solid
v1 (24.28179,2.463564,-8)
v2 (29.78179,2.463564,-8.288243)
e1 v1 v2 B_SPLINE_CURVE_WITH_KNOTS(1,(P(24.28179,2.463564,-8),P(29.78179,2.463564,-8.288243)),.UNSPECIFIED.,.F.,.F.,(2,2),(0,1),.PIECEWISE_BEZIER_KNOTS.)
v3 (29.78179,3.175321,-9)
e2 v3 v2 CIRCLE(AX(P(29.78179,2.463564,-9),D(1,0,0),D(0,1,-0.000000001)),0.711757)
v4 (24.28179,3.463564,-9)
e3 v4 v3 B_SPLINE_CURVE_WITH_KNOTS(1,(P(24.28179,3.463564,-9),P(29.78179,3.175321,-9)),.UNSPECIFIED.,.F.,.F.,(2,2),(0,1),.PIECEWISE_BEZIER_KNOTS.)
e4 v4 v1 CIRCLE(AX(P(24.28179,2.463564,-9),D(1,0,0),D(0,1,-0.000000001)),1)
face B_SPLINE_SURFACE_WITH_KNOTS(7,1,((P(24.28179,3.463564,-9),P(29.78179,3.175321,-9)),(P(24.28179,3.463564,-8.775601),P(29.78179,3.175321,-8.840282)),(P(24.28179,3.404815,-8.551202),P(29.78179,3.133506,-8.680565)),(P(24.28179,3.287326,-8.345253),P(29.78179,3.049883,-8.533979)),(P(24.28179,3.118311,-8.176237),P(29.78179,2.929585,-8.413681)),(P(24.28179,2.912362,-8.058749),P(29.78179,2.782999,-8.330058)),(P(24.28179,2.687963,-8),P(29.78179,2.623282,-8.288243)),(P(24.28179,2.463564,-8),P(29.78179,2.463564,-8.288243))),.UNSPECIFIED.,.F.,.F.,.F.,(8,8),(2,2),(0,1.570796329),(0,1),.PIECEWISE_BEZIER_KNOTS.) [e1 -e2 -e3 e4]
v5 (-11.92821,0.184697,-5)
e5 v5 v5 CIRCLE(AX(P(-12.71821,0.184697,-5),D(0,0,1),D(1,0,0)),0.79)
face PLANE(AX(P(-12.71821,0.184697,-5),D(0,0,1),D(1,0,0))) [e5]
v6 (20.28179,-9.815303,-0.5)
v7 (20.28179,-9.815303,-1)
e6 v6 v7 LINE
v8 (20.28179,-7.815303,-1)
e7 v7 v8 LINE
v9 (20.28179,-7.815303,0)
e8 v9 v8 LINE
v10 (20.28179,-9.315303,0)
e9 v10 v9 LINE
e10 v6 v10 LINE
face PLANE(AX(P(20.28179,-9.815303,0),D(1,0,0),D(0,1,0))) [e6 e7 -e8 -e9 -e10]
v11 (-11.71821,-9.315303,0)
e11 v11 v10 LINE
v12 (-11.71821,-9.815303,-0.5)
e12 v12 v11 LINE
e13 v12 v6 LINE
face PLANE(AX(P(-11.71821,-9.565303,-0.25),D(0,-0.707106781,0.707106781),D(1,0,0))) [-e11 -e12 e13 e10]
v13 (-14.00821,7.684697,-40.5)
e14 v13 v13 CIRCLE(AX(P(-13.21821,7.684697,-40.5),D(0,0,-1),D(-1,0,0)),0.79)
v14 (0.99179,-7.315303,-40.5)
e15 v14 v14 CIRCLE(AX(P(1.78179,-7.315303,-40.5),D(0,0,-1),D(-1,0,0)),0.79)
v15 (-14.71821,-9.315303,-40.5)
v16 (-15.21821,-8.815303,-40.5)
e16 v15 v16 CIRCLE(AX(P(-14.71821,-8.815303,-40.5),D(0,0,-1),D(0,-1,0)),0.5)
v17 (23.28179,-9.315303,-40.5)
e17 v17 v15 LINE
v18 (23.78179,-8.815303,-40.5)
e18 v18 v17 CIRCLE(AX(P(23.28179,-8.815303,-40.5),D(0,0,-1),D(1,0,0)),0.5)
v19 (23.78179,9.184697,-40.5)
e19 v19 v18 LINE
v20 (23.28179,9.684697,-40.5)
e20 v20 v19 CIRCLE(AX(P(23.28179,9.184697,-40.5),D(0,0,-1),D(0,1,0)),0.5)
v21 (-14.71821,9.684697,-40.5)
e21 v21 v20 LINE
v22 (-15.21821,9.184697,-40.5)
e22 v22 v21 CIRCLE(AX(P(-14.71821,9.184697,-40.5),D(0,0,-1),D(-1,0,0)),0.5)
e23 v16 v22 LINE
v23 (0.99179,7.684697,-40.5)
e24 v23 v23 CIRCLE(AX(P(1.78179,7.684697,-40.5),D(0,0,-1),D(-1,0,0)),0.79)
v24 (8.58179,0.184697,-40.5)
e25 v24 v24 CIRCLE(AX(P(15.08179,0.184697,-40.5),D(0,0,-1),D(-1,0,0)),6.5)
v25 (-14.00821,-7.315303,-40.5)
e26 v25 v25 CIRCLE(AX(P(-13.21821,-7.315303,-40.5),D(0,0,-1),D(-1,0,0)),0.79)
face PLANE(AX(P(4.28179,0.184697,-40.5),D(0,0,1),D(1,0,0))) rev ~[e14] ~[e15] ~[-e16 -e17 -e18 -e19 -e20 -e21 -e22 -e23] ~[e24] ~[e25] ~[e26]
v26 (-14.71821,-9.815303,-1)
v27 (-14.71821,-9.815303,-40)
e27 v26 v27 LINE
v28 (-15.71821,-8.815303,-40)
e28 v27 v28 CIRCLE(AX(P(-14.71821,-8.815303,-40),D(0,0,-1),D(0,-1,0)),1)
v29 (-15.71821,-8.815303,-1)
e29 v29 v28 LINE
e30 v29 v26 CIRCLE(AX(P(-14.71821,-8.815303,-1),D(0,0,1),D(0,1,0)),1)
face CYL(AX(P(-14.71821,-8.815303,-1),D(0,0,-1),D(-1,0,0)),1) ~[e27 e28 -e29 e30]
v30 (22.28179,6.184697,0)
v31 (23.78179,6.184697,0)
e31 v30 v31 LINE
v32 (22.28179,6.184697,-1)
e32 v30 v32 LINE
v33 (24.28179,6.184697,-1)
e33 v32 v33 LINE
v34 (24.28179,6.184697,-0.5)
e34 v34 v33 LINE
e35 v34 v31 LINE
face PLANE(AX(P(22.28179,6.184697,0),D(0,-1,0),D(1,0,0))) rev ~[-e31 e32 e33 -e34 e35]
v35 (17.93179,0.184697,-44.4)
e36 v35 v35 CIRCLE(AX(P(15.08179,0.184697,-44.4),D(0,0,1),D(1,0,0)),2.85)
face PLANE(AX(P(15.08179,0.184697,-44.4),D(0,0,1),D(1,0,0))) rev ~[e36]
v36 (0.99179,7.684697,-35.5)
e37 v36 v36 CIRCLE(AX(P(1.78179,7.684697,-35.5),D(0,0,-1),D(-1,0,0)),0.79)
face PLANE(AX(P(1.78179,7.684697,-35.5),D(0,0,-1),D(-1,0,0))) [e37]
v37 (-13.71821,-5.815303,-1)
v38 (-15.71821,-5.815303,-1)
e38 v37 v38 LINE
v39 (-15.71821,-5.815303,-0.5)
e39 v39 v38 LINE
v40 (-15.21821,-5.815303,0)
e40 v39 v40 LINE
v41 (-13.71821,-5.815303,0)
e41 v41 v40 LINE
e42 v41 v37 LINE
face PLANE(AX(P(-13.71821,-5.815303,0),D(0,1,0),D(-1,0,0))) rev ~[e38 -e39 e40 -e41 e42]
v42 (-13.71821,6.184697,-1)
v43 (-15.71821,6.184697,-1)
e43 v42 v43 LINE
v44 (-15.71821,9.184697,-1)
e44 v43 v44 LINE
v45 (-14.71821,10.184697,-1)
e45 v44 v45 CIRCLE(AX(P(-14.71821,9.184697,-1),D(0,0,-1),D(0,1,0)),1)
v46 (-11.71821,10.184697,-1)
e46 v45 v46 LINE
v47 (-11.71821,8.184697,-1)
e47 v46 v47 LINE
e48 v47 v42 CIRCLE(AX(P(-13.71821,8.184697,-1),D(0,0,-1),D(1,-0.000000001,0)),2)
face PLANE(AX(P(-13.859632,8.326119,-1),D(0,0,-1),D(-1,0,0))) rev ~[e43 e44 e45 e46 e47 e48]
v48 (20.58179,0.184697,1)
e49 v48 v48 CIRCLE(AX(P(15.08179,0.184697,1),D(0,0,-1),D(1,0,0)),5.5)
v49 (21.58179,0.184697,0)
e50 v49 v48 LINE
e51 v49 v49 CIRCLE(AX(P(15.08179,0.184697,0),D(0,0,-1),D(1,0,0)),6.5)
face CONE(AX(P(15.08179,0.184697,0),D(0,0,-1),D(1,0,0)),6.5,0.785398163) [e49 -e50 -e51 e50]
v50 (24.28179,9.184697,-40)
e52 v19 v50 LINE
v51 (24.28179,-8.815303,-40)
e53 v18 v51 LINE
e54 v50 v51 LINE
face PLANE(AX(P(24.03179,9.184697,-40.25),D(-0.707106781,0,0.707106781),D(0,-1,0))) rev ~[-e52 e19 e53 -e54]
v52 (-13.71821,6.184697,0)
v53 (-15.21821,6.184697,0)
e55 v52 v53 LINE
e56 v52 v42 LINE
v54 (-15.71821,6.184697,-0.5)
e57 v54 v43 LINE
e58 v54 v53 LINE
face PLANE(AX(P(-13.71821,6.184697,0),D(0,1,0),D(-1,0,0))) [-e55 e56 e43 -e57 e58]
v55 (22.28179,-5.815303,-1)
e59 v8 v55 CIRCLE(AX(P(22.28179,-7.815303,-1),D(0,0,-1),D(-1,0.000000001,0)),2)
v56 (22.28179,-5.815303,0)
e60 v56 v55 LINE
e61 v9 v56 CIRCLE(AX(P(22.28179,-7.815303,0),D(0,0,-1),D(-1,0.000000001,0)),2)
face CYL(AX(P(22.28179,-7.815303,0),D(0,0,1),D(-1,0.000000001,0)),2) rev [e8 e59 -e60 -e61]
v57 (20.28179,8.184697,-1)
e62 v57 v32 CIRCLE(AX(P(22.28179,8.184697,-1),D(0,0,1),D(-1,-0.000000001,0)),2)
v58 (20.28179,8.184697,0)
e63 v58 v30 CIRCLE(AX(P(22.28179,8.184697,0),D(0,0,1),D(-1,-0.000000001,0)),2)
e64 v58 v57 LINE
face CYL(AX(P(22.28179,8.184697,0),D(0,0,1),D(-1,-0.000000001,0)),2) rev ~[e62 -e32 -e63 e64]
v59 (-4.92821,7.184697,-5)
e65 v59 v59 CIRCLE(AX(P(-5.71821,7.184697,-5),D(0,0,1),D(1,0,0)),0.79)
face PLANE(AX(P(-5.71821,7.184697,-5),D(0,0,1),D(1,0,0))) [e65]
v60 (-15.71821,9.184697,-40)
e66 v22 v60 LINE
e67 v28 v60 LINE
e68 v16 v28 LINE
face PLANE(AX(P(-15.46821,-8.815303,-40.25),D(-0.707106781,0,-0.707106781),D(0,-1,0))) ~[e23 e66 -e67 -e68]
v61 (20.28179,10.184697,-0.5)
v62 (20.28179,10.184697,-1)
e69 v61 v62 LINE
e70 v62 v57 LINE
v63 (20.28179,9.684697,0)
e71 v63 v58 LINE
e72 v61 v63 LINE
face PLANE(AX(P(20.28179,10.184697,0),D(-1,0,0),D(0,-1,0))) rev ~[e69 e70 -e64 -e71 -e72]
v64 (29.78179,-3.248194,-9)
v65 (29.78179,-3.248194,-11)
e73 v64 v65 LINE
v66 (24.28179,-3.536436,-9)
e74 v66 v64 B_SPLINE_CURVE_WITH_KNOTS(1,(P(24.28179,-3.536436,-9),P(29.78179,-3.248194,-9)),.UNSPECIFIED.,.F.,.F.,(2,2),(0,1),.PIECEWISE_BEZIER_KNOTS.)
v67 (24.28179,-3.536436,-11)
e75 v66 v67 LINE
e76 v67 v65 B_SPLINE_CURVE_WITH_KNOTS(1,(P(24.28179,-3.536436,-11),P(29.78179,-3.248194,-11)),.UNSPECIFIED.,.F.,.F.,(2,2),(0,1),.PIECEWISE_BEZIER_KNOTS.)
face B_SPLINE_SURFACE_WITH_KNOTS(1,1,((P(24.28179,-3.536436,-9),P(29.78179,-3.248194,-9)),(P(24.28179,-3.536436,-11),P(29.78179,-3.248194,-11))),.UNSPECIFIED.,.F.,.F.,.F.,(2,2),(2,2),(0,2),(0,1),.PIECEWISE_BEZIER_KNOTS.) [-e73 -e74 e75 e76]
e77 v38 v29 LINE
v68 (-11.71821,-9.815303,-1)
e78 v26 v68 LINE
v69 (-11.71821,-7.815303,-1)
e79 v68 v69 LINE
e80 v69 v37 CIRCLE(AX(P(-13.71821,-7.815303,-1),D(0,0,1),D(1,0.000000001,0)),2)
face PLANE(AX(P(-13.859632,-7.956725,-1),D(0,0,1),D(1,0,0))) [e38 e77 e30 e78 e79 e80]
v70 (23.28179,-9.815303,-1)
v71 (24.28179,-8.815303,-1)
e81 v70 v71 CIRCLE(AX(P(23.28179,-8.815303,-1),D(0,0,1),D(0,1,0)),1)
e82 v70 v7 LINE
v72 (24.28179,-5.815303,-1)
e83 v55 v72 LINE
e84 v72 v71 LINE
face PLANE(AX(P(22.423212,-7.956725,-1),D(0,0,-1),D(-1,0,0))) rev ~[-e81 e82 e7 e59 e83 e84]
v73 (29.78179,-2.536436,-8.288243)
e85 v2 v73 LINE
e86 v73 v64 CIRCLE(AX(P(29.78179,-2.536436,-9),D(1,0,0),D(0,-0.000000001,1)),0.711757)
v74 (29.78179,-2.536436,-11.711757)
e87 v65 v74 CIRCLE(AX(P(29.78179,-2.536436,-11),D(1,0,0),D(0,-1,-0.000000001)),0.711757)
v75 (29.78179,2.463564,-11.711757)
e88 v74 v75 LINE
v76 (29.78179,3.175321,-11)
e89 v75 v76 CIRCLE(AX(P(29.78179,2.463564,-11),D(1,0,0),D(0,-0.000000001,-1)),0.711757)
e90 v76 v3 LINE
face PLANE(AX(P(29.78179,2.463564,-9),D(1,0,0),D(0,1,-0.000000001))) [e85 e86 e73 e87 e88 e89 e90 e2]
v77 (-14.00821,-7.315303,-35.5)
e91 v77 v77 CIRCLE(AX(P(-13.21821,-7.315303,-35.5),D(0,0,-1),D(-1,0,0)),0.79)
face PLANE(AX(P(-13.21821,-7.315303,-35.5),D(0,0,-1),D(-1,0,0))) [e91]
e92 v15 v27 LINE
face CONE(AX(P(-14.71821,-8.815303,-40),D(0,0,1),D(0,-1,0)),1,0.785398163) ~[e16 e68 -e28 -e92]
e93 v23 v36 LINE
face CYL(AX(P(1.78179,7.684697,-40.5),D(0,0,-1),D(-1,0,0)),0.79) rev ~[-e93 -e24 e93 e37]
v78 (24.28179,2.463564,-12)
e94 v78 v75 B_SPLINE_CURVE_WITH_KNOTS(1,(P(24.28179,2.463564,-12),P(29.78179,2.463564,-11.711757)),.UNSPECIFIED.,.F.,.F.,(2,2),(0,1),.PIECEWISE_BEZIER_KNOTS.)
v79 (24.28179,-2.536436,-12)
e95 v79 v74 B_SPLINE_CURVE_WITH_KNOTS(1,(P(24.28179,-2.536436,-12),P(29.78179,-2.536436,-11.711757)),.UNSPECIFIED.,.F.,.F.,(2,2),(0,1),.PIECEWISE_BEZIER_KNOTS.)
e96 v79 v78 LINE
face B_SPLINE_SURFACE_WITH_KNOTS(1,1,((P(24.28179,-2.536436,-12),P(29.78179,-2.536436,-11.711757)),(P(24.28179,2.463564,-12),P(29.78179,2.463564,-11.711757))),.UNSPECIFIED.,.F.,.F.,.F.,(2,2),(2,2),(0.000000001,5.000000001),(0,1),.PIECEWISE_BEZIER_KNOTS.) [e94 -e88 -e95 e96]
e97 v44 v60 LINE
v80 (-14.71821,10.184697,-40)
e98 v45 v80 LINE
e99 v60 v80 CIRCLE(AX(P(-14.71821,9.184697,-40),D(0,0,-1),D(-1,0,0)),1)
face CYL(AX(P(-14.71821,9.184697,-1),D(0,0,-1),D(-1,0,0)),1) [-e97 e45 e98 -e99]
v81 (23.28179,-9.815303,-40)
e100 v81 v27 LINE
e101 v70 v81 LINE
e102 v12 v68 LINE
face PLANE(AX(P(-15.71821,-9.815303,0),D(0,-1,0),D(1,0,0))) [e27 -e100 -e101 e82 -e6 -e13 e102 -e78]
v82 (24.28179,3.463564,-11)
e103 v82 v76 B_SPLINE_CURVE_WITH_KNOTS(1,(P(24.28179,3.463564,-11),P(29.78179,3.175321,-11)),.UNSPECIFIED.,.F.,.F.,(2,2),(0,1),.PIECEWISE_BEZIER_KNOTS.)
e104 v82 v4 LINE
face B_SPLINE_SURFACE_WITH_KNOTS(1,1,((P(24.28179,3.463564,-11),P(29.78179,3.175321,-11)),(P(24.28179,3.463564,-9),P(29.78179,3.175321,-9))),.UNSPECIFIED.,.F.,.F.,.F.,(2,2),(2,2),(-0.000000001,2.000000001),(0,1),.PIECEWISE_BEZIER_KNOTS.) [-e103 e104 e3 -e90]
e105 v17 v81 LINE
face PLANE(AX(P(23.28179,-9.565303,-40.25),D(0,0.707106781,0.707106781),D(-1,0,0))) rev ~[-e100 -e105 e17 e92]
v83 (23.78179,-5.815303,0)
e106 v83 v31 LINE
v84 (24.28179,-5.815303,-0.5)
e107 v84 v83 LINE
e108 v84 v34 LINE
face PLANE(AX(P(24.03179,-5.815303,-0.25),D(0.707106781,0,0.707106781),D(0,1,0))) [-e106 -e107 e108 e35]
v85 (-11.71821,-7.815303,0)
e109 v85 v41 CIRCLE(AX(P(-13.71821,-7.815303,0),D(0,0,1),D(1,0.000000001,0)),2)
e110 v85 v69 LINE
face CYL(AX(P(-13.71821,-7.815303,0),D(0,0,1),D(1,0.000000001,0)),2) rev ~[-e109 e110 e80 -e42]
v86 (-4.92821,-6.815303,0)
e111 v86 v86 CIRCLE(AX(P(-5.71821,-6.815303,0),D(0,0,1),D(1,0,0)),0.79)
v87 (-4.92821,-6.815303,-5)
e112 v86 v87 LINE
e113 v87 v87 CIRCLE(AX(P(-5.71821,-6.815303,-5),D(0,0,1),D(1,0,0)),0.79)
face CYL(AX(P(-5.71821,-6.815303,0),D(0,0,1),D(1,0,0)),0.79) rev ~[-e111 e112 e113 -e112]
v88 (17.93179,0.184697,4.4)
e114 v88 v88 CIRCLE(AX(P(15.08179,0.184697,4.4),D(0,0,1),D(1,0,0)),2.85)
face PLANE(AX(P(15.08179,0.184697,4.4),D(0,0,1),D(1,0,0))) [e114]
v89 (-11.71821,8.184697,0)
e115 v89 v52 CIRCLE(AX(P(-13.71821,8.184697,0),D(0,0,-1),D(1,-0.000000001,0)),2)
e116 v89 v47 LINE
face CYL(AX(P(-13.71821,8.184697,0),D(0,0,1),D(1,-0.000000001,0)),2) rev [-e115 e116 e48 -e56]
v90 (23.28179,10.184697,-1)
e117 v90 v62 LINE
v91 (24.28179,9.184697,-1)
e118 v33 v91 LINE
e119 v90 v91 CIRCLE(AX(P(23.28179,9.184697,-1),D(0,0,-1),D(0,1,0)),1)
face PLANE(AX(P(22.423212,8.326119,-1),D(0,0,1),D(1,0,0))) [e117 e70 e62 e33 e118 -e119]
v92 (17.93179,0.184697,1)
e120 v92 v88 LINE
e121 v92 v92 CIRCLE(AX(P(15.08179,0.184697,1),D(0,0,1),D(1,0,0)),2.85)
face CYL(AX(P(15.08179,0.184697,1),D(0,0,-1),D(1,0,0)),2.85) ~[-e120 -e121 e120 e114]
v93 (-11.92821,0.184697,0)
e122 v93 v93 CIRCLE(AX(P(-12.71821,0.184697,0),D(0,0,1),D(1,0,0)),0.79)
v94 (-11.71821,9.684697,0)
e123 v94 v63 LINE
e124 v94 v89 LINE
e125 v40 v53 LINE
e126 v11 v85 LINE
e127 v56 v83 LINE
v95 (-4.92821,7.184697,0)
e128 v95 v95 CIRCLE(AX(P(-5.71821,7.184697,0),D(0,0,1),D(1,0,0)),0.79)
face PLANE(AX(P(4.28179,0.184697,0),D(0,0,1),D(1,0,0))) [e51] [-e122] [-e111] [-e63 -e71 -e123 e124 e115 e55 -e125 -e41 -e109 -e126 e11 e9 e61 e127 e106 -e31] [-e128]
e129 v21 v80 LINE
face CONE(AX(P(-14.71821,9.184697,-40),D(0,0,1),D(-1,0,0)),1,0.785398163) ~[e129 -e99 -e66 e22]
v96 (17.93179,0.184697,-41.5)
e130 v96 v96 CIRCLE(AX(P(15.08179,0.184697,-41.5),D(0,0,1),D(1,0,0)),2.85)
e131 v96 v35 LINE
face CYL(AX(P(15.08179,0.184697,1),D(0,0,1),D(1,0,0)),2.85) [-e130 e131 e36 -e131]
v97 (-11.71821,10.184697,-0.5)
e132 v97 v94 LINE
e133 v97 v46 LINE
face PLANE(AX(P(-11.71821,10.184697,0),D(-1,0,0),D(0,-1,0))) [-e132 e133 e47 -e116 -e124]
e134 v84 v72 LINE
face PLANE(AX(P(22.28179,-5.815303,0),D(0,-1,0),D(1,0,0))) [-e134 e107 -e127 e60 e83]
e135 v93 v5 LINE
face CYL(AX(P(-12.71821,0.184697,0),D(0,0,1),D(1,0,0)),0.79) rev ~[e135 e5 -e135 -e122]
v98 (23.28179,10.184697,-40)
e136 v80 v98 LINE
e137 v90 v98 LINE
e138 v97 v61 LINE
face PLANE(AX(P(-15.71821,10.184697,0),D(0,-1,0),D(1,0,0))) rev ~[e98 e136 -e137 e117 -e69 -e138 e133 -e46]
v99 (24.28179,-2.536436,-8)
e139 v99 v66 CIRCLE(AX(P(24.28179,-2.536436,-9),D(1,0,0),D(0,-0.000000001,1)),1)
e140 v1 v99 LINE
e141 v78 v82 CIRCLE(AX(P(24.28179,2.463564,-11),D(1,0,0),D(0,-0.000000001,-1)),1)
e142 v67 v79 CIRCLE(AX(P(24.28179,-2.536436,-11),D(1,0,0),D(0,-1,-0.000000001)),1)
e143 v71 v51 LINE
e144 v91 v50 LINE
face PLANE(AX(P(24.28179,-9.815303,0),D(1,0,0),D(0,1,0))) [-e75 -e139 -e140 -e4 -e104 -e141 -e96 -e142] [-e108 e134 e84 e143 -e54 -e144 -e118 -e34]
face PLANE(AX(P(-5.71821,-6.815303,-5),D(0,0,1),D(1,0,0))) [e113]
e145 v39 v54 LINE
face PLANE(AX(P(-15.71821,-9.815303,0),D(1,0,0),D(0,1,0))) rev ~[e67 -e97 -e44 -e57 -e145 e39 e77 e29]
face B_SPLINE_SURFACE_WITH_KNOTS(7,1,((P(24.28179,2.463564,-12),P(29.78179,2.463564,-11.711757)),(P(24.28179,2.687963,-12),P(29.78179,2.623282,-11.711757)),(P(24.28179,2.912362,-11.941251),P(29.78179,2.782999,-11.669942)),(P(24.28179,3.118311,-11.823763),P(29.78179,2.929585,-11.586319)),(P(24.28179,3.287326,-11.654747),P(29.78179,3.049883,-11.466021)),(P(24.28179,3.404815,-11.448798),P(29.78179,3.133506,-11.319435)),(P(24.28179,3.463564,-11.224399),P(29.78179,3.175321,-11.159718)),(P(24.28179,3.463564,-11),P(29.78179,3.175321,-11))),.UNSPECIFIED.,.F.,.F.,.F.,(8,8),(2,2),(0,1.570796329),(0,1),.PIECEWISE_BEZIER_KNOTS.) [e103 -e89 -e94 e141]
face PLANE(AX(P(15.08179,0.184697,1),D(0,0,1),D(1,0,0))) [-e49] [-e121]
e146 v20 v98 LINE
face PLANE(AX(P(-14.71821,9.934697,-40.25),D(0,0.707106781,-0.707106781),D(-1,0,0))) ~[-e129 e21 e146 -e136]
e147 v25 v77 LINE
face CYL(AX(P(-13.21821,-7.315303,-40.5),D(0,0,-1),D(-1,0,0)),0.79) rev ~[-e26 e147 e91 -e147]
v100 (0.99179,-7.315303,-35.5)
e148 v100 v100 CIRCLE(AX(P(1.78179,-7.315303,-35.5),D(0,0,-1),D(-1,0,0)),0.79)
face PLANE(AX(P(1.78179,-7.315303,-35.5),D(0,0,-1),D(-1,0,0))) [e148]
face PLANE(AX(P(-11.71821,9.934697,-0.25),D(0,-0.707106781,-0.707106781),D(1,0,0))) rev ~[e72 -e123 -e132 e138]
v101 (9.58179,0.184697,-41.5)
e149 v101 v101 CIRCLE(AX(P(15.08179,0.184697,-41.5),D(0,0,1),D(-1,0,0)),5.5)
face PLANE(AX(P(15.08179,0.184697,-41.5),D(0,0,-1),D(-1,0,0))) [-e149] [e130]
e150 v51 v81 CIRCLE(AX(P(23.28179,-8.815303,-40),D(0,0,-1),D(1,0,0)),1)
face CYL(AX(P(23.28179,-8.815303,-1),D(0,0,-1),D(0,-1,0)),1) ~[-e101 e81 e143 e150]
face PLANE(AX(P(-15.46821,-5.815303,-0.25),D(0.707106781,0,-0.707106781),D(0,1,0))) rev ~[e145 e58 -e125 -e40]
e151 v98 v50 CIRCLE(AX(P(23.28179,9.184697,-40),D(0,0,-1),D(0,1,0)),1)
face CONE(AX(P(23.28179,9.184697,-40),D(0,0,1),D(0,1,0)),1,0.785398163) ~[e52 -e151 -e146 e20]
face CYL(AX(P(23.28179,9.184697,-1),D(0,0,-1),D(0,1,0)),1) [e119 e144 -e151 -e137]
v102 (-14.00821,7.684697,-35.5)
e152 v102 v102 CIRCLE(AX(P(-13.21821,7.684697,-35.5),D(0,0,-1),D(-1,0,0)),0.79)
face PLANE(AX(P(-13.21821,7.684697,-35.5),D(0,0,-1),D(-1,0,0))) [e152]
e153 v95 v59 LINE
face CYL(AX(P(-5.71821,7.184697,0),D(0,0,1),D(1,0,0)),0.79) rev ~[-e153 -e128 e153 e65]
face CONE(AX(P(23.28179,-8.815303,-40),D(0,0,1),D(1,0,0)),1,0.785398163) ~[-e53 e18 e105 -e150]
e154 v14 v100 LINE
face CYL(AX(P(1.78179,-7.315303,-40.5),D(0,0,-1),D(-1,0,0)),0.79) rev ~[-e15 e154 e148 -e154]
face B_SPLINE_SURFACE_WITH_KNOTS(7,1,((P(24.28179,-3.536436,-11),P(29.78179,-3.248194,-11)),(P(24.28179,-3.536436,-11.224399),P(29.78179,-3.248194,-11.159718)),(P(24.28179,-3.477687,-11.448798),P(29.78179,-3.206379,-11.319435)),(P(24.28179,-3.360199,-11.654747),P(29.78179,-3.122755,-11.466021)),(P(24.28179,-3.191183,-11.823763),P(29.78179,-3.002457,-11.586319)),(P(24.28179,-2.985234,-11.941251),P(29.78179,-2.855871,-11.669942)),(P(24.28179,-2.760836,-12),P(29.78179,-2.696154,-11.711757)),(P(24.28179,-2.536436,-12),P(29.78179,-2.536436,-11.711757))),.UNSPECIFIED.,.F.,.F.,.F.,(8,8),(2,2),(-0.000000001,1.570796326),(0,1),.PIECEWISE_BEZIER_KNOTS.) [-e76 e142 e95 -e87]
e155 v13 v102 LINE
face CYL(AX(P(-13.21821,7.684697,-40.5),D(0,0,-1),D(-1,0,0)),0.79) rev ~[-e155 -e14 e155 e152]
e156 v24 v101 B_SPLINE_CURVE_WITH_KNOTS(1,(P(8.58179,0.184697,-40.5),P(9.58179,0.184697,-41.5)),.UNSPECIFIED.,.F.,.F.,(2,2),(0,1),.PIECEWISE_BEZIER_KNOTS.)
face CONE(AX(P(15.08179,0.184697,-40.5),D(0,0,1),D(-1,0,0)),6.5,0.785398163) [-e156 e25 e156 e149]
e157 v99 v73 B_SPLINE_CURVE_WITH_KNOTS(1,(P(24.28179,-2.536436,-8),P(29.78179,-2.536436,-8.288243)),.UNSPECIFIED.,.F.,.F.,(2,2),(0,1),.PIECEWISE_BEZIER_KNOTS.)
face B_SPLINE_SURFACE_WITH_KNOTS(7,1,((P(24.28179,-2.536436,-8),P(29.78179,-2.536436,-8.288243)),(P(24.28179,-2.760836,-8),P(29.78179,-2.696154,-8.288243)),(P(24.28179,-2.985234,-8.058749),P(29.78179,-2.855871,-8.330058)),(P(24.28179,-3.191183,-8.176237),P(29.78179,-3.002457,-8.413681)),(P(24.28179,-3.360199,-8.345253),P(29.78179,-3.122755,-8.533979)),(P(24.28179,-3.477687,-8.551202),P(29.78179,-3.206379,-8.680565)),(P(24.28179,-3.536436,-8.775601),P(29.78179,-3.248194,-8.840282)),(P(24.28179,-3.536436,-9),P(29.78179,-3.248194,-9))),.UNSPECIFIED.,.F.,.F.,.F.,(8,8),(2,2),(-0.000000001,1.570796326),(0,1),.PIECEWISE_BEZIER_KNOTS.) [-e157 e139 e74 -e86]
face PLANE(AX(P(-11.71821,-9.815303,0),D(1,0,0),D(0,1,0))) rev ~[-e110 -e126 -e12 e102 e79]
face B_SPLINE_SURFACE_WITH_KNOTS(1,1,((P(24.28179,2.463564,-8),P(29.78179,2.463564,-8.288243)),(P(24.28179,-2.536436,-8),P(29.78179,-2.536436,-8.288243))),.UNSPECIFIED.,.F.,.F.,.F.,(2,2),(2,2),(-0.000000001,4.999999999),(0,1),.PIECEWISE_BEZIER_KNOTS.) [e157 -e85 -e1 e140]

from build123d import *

# Parameters (mm, degrees)
ESQUISSE1_W             = 40
ESQUISSE1_H             = 20
BOSS_EXTRU_1_DEPTH      = 40.5
ESQUISSE2_R             = 0.79
ENL_V_MAT_EXTRU_1_DEPTH = 5
ESQUISSE3_R             = 0.79
ENL_V_MAT_EXTRU_2_DEPTH = 5
ENL_V_MAT_EXTRU_3_DEPTH = 1
CONG_1_R                = 1
ESQUISSE5_R             = 6.5
BOSS_EXTRU_2_DEPTH      = 1
BOSS_EXTRU_2_TAPER      = 45
ESQUISSE6_R             = 2.85
BOSS_EXTRU_3_DEPTH      = 3.4
BOSS_EXTRU_3_DEPTH_BACK = 45.4
ESQUISSE7_R             = 6.5
BOSS_EXTRU_4_DEPTH      = 1
BOSS_EXTRU_4_TAPER      = 45
CHANFREIN1_SIZE         = 0.5
BOSS_EXTRU_5_DEPTH      = 5.5
BOSS_EXTRU_5_TAPER      = 3


with BuildPart() as part:
    # Esquisse1 → Boss.-Extru.1 (new body)
    with BuildSketch(Plane.XY):
        with Locations((4.281789852, 0.18469657)):
            Rectangle(ESQUISSE1_W, ESQUISSE1_H)
    extrude(amount=-BOSS_EXTRU_1_DEPTH)

    # Esquisse2 → Enlèv. mat.-Extru.1 (cut)
    with BuildSketch(Plane.XY):
        with Locations((-12.718210148, 0.18469657)):
            Circle(ESQUISSE2_R)
        with Locations((-5.718210148, 7.18469657)):
            Circle(ESQUISSE2_R)
        with Locations((-5.718210148, -6.81530343)):
            Circle(ESQUISSE2_R)
    extrude(amount=-ENL_V_MAT_EXTRU_1_DEPTH, mode=Mode.SUBTRACT)

    # Esquisse3 → Enlèv. mat.-Extru.2 (cut)
    with BuildSketch(Plane(origin=(0, 0, -40.5), x_dir=(-1, 0, 0), z_dir=(0, 0, -1))):
        with Locations((-1.781789852, 7.68469657)):
            Circle(ESQUISSE3_R)
        with Locations((13.218210148, 7.68469657)):
            Circle(ESQUISSE3_R)
        with Locations((13.218210148, -7.31530343)):
            Circle(ESQUISSE3_R)
        with Locations((-1.781789852, -7.31530343)):
            Circle(ESQUISSE3_R)
    extrude(amount=-ENL_V_MAT_EXTRU_2_DEPTH, mode=Mode.SUBTRACT)

    # Esquisse4 → Enlèv. mat.-Extru.3 (cut)
    with BuildSketch(Plane.XY):
        with BuildLine():
            Line((-15.718210148, 10.18469657), (-11.718210148, 10.18469657))
            Line((-11.718210148, 10.18469657), (-11.718210148, 8.18469657))
            ThreePointArc((-11.718210148, 8.18469657), (-12.303996586, 6.770483008), (-13.718210148, 6.18469657))
            Line((-13.718210148, 6.18469657), (-15.718210148, 6.18469657))
            Line((-15.718210148, 6.18469657), (-15.718210148, 10.18469657))
        make_face()
        with BuildLine():
            Line((-15.718210148, -9.81530343), (-11.718210148, -9.81530343))
            Line((-11.718210148, -9.81530343), (-11.718210148, -7.81530343))
            ThreePointArc((-11.718210148, -7.81530343), (-12.303996586, -6.401089868), (-13.718210148, -5.81530343))
            Line((-13.718210148, -5.81530343), (-15.718210148, -5.81530343))
            Line((-15.718210148, -5.81530343), (-15.718210148, -9.81530343))
        make_face()
        with BuildLine():
            Line((24.281789852, -9.81530343), (20.281789852, -9.81530343))
            Line((20.281789852, -9.81530343), (20.281789852, -7.81530343))
            ThreePointArc((20.281789852, -7.81530343), (20.86757629, -6.401089868), (22.281789852, -5.81530343))
            Line((22.281789852, -5.81530343), (24.281789852, -5.81530343))
            Line((24.281789852, -5.81530343), (24.281789852, -9.81530343))
        make_face()
        with BuildLine():
            Line((24.281789852, 10.18469657), (20.281789852, 10.18469657))
            Line((20.281789852, 10.18469657), (20.281789852, 8.18469657))
            ThreePointArc((20.281789852, 8.18469657), (20.86757629, 6.770483008), (22.281789852, 6.18469657))
            Line((22.281789852, 6.18469657), (24.281789852, 6.18469657))
            Line((24.281789852, 6.18469657), (24.281789852, 10.18469657))
        make_face()
    extrude(amount=-ENL_V_MAT_EXTRU_3_DEPTH, mode=Mode.SUBTRACT)

    # Congé1
    cong_1_edges = [part.edges().sort_by_distance(p)[0] for p in [
        (-15.718210148, 10.18469657, -20.75),
        (24.281789852, 10.18469657, -20.75),
        (24.281789852, -9.81530343, -20.75),
        (-15.718210148, -9.81530343, -20.75),
    ]]
    fillet(cong_1_edges, radius=CONG_1_R)

    # Esquisse5 → Boss.-Extru.2 (add)
    with BuildSketch(Plane.XY):
        with Locations((15.081789852, 0.18469657)):
            Circle(ESQUISSE5_R)
    extrude(amount=BOSS_EXTRU_2_DEPTH, taper=BOSS_EXTRU_2_TAPER)

    # Esquisse6 → Boss.-Extru.3 (add, two sides)
    with BuildSketch(Plane.XY.offset(1)) as boss_extru_3_sk:
        with Locations((15.081789852, 0.18469657)):
            Circle(ESQUISSE6_R)
    extrude(amount=BOSS_EXTRU_3_DEPTH)
    extrude(boss_extru_3_sk.sketch, amount=-BOSS_EXTRU_3_DEPTH_BACK)

    # Esquisse7 → Boss.-Extru.4 (add)
    with BuildSketch(Plane(origin=(0, 0, -40.5), x_dir=(-1, 0, 0), z_dir=(0, 0, -1))):
        with Locations((-15.081789852, 0.18469657)):
            Circle(ESQUISSE7_R)
    extrude(amount=BOSS_EXTRU_4_DEPTH, taper=BOSS_EXTRU_4_TAPER)

    # Chanfrein1
    chanfrein1_edges = [part.edges().sort_by_distance(p)[0] for p in [
        (-15.718210148, 0.18469657, -40.5),
        (4.281789852, -9.81530343, -40.5),
        (4.281789852, 10.18469657, -40.5),
        (24.281789852, 0.18469657, -40.5),
        (-15.425316929, 9.891803351, -40.5),
        (23.988896633, 9.891803351, -40.5),
        (23.988896633, -9.522410211, -40.5),
        (-15.425316929, -9.522410211, -40.5),
        (-15.718210148, 0.18469657, 0),
        (4.281789852, -9.81530343, 0),
        (24.281789852, 0.18469657, 0),
        (4.281789852, 10.18469657, 0),
    ]]
    chamfer(chanfrein1_edges, length=CHANFREIN1_SIZE)

    # Esquisse8 → Boss.-Extru.5 (add)
    with BuildSketch(Plane(origin=(24.281789852, 0, 0), x_dir=(0, 0, -1), z_dir=(1, 0, 0))):
        with BuildLine():
            ThreePointArc((9, 3.463563672), (8.292893219, 3.170670454), (8, 2.463563672))
            Line((8, 2.463563672), (8, -2.536436328))
            ThreePointArc((8, -2.536436328), (8.292893219, -3.243543109), (9, -3.536436328))
            Line((9, -3.536436328), (11, -3.536436328))
            ThreePointArc((11, -3.536436328), (11.707106781, -3.243543109), (12, -2.536436328))
            Line((12, -2.536436328), (12, 2.463563672))
            ThreePointArc((12, 2.463563672), (11.707106781, 3.170670454), (11, 3.463563672))
            Line((11, 3.463563672), (9, 3.463563672))
        make_face()
    extrude(amount=BOSS_EXTRU_5_DEPTH, taper=BOSS_EXTRU_5_TAPER)


solid = part.part
